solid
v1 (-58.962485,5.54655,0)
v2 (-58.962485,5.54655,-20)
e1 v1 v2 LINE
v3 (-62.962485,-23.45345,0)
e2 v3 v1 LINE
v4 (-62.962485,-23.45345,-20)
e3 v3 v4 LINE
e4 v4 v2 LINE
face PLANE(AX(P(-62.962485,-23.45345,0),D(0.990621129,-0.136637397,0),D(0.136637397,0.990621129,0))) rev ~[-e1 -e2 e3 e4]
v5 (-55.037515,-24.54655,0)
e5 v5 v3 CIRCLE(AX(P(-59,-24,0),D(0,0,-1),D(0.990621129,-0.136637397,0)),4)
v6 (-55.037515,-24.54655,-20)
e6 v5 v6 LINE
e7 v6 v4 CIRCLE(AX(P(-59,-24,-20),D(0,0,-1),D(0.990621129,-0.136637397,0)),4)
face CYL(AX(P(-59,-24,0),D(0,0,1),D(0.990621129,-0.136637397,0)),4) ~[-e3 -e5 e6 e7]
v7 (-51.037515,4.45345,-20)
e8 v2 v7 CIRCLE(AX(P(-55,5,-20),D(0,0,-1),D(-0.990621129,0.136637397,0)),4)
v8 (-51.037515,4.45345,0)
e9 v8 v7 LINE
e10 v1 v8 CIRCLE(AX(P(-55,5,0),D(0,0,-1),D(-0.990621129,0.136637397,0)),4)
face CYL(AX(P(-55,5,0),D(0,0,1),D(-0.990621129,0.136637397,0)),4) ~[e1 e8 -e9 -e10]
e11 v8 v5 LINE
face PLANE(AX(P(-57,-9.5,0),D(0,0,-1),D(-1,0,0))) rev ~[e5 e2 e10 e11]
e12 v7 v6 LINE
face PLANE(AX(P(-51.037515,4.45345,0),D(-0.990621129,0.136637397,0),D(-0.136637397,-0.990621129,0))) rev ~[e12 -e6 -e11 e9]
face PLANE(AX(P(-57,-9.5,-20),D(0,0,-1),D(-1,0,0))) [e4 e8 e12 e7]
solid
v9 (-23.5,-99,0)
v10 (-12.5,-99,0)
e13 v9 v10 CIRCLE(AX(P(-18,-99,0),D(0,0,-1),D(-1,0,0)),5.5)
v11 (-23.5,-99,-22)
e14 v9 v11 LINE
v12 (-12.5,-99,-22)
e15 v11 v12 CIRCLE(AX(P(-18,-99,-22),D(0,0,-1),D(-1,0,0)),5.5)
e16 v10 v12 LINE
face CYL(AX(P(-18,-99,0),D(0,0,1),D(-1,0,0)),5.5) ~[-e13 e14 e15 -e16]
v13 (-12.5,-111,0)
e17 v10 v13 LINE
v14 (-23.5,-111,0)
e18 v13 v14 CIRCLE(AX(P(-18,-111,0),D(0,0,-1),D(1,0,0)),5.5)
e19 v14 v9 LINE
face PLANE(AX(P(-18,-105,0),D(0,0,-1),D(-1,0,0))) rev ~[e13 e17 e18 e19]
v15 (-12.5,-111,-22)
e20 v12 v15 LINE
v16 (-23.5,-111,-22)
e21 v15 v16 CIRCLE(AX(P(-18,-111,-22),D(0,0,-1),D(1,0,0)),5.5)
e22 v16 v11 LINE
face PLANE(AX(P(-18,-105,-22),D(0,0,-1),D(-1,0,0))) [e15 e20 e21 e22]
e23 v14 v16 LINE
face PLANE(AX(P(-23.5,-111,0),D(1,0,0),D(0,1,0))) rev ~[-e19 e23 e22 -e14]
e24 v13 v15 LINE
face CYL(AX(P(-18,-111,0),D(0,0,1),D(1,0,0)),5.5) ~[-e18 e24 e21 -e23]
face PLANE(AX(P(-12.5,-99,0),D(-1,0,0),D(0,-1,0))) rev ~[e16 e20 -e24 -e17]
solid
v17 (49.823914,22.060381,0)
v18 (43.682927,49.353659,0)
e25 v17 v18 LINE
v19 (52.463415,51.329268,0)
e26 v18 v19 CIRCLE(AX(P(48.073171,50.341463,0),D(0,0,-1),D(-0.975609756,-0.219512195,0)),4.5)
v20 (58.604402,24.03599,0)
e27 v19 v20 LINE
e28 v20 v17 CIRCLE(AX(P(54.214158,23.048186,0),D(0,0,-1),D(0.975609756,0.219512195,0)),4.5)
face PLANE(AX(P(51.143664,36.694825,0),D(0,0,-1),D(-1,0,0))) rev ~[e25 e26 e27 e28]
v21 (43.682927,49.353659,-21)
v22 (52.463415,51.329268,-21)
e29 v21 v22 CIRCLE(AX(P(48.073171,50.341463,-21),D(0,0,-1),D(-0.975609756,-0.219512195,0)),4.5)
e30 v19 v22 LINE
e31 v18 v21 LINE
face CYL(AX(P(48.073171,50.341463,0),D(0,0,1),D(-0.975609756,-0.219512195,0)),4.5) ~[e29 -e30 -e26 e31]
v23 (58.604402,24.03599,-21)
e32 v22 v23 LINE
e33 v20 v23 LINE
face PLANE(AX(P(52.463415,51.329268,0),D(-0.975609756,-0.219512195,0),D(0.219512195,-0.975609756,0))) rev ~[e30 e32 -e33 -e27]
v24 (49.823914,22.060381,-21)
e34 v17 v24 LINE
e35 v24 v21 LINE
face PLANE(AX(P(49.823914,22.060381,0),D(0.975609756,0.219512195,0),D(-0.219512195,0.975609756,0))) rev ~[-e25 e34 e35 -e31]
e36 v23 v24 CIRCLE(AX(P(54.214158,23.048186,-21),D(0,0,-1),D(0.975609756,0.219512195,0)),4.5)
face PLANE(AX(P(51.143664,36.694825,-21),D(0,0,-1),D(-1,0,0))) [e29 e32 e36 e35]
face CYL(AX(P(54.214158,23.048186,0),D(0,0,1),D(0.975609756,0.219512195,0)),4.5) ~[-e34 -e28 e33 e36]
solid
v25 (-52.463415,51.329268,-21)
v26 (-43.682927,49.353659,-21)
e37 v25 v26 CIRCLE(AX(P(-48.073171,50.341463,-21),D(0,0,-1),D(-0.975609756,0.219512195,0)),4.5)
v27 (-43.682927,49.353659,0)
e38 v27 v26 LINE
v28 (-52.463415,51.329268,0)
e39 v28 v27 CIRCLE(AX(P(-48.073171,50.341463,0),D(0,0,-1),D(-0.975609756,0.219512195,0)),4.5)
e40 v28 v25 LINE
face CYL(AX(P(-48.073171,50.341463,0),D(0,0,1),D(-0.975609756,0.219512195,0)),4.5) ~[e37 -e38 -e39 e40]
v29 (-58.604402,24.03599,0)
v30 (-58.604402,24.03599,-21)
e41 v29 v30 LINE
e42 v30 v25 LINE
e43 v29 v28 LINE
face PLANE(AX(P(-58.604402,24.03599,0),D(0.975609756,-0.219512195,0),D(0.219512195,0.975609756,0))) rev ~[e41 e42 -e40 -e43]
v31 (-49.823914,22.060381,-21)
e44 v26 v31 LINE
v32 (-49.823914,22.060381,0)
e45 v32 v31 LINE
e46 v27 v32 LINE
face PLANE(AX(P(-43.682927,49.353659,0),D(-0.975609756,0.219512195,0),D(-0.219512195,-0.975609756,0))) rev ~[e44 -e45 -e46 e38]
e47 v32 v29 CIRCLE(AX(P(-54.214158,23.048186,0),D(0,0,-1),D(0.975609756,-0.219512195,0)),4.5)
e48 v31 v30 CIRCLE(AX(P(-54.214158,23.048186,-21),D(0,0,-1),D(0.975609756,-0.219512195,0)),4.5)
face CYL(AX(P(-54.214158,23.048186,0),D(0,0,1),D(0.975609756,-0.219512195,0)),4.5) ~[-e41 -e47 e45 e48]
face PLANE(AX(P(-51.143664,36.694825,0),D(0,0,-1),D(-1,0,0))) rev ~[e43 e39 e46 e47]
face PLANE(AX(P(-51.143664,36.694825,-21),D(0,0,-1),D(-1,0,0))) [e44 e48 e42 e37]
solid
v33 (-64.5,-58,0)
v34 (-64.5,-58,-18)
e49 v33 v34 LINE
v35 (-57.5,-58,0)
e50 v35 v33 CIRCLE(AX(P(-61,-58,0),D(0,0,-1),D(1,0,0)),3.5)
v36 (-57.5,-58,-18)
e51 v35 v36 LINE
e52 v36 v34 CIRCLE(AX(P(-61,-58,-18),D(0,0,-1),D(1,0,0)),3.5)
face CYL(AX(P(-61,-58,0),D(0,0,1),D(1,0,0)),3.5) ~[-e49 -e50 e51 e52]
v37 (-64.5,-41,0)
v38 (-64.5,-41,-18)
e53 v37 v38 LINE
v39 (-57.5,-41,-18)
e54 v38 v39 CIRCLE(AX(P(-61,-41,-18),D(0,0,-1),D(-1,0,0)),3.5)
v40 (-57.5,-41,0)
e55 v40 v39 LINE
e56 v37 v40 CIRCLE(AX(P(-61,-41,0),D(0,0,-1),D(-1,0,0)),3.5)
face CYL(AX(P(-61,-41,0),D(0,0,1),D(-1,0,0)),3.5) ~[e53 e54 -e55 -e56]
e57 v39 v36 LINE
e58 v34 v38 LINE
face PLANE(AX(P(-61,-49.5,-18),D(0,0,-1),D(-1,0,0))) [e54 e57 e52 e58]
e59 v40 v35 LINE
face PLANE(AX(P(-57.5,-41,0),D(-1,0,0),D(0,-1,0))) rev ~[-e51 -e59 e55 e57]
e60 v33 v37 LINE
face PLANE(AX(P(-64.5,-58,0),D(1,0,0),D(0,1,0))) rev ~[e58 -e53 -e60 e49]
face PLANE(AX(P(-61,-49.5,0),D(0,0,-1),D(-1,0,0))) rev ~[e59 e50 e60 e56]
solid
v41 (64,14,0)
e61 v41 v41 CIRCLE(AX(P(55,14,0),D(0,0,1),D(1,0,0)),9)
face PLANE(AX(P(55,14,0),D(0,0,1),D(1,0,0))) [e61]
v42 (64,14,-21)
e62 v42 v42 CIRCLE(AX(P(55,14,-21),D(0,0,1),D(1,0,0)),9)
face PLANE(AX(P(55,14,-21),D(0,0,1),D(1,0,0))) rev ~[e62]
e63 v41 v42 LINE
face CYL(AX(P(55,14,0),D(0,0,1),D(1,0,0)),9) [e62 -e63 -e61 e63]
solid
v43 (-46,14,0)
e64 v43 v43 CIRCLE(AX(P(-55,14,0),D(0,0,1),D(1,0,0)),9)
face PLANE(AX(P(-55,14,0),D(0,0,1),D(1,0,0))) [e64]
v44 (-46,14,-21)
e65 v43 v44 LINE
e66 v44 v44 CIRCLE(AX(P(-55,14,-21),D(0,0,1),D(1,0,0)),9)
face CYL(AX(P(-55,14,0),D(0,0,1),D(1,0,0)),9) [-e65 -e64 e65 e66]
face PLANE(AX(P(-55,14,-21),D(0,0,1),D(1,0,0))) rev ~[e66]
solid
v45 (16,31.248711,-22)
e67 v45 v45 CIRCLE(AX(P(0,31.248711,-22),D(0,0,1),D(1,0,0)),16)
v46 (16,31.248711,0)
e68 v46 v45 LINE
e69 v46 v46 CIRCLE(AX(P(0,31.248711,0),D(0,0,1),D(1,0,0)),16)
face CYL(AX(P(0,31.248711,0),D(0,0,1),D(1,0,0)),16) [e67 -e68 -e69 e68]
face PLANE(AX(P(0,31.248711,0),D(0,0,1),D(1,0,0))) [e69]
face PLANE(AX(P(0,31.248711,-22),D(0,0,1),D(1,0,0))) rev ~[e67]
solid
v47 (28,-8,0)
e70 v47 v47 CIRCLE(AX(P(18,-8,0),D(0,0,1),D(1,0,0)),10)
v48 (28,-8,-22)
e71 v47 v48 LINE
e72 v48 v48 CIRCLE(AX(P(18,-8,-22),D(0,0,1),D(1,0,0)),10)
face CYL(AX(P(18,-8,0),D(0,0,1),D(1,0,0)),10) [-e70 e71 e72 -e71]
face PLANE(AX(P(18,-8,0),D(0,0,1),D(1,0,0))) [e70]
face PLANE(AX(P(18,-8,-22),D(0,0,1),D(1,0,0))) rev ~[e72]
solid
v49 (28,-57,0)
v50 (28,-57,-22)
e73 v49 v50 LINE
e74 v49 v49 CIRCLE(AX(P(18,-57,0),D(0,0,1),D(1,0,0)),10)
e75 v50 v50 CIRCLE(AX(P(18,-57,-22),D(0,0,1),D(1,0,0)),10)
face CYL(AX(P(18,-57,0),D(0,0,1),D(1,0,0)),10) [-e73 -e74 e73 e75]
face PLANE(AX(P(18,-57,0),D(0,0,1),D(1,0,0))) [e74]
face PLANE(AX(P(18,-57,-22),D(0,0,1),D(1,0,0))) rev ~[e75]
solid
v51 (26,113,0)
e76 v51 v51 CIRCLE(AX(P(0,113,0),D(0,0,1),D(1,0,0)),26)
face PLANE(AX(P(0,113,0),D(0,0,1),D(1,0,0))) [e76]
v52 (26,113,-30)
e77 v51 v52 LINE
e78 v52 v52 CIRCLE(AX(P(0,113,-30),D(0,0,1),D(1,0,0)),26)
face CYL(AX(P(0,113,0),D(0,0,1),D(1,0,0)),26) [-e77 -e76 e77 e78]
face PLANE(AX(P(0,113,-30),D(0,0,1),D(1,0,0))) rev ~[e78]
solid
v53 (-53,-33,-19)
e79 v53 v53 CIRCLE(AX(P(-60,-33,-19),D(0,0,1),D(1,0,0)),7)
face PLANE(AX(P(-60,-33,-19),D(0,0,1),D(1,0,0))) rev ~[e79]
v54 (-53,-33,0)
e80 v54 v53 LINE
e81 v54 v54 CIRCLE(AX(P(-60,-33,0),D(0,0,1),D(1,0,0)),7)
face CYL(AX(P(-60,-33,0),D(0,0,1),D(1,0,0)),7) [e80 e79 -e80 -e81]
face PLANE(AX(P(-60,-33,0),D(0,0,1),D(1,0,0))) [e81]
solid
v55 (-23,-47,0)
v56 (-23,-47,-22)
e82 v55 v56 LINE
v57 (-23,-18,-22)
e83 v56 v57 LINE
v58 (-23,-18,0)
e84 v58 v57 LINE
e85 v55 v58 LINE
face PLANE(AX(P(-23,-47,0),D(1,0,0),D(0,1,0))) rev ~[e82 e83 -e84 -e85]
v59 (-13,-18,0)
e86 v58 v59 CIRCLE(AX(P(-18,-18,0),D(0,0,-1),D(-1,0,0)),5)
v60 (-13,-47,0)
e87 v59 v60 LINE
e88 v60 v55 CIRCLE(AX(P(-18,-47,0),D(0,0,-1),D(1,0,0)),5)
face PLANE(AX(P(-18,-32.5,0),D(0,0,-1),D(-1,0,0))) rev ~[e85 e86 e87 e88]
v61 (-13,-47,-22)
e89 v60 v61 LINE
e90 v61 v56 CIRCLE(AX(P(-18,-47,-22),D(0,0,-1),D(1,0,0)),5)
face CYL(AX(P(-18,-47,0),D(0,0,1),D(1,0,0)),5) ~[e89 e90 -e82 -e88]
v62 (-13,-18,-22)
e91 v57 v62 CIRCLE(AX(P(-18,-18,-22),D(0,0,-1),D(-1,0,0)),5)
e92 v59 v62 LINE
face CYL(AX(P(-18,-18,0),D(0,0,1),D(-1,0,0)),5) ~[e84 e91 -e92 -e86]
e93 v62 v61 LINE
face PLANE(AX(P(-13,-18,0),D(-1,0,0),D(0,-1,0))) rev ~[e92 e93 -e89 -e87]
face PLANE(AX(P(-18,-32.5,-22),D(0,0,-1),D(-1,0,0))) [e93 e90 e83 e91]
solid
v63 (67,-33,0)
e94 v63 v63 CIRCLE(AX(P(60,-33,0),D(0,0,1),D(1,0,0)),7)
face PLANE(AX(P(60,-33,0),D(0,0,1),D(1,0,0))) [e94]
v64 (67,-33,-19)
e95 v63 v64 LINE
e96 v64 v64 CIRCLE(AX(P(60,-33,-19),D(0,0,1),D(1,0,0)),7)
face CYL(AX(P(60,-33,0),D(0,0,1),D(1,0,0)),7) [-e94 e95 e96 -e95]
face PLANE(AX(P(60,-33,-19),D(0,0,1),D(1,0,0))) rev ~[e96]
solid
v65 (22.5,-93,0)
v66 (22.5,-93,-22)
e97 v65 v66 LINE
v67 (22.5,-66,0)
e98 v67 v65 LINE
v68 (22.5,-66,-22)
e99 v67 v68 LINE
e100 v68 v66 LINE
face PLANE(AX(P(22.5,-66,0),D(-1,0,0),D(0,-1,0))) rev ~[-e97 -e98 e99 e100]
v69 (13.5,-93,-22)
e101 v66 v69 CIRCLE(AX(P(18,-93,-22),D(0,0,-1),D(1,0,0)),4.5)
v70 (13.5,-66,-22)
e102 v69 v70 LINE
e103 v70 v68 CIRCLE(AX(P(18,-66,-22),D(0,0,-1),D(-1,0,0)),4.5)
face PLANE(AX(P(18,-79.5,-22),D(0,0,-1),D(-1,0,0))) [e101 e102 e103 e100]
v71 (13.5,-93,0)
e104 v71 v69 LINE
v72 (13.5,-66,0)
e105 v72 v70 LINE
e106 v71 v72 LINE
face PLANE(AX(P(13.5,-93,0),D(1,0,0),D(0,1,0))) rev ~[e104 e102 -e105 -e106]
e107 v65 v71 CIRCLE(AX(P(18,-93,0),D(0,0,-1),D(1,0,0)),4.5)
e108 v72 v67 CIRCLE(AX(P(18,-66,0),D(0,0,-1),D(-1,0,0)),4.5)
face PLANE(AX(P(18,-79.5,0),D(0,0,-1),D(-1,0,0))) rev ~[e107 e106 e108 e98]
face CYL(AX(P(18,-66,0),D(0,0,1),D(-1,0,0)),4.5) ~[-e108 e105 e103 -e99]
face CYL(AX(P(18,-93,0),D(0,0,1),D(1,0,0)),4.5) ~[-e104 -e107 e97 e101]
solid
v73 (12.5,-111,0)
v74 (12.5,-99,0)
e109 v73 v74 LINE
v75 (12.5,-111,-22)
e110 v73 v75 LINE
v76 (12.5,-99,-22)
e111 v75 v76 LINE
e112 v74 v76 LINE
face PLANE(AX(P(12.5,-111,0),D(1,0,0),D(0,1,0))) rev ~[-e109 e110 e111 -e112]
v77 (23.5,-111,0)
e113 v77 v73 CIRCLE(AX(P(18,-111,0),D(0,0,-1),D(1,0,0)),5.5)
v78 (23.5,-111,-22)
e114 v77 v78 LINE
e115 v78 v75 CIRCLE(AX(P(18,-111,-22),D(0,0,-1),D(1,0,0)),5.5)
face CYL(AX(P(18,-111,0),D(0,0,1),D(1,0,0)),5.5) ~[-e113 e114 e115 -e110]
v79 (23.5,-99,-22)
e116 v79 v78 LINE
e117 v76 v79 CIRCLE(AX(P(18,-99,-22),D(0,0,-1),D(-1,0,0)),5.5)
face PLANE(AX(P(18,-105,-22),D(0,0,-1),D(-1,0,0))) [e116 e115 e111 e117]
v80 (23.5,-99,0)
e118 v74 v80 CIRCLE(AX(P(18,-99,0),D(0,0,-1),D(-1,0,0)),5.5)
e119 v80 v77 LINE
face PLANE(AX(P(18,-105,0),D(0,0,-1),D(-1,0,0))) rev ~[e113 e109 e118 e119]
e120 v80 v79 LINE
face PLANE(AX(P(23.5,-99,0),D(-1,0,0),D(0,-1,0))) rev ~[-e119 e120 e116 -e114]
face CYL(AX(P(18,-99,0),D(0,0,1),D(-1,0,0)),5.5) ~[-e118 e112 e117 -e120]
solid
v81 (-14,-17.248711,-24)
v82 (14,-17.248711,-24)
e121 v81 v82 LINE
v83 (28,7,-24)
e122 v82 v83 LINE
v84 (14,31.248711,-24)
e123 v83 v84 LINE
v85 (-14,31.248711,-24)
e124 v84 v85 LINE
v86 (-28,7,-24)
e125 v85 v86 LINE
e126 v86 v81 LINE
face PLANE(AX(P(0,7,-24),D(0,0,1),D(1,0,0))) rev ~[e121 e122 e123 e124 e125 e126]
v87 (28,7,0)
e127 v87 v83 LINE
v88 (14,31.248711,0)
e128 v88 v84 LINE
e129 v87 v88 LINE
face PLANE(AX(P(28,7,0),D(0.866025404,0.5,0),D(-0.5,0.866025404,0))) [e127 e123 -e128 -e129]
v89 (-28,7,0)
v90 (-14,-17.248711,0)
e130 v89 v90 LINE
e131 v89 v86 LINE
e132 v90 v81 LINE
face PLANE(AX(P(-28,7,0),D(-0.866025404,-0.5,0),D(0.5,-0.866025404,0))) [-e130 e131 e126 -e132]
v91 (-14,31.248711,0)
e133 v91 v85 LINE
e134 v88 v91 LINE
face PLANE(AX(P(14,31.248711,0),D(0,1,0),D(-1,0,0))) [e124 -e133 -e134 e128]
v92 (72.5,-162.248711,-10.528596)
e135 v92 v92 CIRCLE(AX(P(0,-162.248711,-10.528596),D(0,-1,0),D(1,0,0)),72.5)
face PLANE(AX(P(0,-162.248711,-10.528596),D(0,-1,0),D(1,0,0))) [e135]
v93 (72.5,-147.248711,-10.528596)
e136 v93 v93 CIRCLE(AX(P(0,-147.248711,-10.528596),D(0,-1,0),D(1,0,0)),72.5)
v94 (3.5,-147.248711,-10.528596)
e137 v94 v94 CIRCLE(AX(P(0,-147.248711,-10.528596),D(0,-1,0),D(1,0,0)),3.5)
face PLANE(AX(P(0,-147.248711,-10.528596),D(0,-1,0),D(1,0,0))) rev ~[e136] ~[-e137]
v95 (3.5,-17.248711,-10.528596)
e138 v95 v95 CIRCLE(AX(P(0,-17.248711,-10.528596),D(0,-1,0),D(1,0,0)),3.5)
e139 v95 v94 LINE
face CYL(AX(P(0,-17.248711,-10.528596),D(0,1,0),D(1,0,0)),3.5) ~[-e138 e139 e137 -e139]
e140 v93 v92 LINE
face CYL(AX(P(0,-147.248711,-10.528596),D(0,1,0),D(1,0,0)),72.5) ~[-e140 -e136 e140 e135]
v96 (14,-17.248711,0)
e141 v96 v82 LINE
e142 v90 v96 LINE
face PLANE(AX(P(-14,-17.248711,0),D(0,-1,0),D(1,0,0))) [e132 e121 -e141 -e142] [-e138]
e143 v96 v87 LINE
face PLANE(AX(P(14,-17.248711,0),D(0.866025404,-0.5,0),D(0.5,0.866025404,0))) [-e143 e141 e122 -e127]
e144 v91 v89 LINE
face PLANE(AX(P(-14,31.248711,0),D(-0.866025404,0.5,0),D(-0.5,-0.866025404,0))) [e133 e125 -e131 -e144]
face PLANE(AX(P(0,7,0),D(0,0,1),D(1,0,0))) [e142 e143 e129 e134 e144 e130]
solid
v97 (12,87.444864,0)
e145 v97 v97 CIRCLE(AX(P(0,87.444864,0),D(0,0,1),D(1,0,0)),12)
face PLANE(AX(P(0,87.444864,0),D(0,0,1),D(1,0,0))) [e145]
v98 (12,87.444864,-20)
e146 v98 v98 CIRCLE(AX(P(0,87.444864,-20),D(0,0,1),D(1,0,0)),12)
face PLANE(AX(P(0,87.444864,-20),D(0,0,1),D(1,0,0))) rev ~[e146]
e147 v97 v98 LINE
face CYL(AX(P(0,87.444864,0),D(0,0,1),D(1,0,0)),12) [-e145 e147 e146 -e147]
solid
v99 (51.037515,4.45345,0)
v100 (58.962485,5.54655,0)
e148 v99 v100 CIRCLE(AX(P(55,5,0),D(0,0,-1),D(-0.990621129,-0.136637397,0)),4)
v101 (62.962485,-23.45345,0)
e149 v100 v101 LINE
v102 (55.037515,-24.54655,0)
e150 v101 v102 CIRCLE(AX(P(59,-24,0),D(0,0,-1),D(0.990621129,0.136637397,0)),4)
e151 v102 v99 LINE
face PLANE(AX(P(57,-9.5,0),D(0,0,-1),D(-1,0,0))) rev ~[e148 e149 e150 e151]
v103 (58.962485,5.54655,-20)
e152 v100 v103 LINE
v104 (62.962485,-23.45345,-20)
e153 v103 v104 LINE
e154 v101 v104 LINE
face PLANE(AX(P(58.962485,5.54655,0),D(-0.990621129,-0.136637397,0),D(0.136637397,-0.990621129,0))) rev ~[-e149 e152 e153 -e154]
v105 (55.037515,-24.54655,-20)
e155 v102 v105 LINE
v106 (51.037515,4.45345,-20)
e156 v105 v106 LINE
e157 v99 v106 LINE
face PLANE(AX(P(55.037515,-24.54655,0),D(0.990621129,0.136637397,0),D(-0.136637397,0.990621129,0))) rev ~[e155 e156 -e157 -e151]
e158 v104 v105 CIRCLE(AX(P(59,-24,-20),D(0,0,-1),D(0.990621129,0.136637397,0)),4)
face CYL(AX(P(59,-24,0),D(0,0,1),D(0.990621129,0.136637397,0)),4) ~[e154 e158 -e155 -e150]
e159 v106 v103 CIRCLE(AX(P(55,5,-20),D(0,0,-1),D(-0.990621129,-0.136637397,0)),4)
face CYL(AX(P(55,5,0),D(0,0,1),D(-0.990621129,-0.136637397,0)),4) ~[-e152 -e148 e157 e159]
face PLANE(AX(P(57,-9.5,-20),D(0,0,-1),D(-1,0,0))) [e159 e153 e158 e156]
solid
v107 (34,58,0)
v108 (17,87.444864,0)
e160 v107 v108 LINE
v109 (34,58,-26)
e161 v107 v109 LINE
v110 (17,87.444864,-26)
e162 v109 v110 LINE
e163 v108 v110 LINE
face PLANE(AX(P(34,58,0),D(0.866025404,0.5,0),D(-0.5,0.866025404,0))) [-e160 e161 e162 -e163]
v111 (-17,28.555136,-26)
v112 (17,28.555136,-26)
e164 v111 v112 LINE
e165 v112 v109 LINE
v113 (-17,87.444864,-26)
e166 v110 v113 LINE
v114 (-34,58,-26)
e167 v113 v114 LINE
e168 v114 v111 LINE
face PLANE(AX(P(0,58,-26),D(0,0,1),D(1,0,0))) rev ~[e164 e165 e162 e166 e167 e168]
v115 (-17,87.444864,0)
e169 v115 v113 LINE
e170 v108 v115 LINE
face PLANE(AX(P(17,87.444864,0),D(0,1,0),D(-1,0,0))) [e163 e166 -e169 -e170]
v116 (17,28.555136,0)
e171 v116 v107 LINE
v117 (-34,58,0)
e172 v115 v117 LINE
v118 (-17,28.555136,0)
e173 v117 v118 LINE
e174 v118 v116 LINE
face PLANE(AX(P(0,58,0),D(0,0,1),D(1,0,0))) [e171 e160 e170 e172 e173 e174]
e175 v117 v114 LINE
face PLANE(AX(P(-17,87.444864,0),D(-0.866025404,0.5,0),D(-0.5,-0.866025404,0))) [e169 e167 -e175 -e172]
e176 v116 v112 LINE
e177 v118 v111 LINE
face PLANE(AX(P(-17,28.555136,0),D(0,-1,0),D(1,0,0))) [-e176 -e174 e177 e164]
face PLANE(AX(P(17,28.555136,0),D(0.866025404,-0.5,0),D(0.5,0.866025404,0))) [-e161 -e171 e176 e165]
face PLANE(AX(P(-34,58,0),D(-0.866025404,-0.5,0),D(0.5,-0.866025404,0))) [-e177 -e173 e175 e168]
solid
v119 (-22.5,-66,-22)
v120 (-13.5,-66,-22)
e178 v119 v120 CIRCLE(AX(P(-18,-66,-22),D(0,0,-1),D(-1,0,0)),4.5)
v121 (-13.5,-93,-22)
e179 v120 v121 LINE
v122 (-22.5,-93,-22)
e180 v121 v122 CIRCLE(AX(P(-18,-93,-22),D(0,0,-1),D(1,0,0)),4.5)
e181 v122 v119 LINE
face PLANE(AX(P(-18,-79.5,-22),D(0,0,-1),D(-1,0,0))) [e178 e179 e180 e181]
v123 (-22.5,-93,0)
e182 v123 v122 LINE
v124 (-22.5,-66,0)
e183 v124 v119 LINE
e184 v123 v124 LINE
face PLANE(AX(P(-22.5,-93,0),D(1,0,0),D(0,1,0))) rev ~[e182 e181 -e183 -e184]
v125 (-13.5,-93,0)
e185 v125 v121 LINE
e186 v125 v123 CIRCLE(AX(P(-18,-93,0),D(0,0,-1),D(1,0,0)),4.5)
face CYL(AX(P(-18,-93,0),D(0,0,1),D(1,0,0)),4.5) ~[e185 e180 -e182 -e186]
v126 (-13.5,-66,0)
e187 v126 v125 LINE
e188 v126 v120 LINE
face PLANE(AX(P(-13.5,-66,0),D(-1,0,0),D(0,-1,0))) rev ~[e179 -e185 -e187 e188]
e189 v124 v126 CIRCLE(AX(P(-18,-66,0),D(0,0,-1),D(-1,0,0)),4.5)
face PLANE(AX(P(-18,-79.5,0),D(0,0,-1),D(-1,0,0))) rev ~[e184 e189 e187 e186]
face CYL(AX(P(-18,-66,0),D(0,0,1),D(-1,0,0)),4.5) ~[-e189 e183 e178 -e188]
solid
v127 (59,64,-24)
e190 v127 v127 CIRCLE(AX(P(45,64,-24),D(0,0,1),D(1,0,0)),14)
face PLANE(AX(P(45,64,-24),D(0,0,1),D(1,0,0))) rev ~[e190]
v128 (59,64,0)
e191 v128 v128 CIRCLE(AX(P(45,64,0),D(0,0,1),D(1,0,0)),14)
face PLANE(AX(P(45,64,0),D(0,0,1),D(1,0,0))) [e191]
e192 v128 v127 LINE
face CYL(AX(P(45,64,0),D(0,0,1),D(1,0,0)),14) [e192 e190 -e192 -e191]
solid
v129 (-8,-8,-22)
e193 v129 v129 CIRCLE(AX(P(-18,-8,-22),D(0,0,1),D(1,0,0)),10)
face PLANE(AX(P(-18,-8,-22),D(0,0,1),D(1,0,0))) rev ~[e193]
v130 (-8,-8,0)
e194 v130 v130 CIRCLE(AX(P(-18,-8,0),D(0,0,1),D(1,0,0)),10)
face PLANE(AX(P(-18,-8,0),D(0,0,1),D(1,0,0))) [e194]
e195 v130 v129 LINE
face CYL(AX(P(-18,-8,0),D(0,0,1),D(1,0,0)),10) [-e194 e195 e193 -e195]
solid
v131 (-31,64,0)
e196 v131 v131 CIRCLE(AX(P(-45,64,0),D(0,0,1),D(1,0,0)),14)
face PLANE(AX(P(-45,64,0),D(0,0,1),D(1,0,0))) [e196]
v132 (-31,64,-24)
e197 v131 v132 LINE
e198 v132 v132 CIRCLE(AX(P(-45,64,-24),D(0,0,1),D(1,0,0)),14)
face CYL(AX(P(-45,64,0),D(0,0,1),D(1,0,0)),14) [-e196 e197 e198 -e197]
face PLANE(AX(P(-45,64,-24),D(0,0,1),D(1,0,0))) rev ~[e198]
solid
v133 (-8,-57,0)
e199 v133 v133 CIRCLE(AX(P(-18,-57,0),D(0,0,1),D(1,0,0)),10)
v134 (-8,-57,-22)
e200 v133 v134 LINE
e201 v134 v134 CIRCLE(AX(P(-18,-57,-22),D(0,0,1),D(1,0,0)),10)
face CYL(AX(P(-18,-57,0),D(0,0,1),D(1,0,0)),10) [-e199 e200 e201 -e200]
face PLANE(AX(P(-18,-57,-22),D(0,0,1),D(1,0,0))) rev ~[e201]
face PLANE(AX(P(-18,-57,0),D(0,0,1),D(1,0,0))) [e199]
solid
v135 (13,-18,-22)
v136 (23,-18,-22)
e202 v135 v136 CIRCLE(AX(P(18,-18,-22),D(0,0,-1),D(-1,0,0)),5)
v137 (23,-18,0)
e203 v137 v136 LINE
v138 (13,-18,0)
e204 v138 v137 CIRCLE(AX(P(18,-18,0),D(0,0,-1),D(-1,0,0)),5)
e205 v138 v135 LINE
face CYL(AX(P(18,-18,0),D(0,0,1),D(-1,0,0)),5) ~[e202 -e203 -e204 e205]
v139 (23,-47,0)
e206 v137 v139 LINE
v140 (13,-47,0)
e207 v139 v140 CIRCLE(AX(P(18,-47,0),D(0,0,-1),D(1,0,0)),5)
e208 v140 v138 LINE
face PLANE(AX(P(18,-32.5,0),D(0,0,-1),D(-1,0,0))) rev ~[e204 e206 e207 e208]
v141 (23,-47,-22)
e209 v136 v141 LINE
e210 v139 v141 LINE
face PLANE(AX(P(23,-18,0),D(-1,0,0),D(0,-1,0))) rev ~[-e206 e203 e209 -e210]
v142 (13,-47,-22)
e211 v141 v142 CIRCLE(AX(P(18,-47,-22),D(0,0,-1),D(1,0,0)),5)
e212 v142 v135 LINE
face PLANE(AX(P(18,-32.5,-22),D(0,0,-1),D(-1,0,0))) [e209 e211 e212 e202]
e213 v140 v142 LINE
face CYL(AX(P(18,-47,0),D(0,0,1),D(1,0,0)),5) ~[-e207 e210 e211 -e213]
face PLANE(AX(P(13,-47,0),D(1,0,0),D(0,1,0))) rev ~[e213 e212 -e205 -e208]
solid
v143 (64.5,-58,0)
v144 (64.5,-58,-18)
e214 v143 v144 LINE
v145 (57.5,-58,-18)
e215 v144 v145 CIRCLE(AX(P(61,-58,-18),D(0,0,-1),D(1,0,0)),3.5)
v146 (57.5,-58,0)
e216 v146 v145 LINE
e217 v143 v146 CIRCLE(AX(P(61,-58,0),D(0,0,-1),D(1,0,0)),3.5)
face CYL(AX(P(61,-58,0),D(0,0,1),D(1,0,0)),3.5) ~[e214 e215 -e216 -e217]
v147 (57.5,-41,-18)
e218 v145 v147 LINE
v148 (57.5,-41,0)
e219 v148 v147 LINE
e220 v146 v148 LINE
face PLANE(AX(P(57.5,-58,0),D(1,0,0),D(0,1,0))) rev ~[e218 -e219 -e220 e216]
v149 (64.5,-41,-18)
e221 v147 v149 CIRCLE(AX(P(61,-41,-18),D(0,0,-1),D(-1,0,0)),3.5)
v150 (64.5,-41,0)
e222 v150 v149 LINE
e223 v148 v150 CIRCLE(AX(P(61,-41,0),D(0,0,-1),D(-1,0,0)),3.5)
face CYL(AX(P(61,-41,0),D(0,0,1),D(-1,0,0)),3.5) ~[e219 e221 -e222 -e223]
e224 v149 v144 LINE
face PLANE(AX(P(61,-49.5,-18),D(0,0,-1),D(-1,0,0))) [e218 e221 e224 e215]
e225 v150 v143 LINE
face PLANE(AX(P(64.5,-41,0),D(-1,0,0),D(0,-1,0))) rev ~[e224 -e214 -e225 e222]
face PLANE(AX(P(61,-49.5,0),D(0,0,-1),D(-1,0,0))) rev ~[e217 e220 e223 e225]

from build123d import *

# Parameters (mm, degrees)
EXTRUDE_2_DEPTH  = 22
EXTRUDE_3_DEPTH  = 22
EXTRUDE_4_DEPTH  = 22
SKETCH_5_R       = 10
EXTRUDE_5_DEPTH  = 22
EXTRUDE_6_DEPTH  = 22
SKETCH_7_R       = 10
EXTRUDE_7_DEPTH  = 22
EXTRUDE_8_DEPTH  = 22
SKETCH_9_R       = 10
EXTRUDE_9_DEPTH  = 22
EXTRUDE_10_DEPTH = 22
SKETCH_11_R      = 10
EXTRUDE_11_DEPTH = 22
EXTRUDE_12_DEPTH = 24
SKETCH_13_R      = 16
EXTRUDE_13_DEPTH = 22
EXTRUDE_14_DEPTH = 26
SKETCH_15_R      = 12
EXTRUDE_15_DEPTH = 20
SKETCH_16_R      = 26
EXTRUDE_16_DEPTH = 30
SKETCH_17_R      = 14
EXTRUDE_17_DEPTH = 24
EXTRUDE_18_DEPTH = 21
SKETCH_19_R      = 9
EXTRUDE_19_DEPTH = 21
EXTRUDE_20_DEPTH = 20
SKETCH_21_R      = 7
EXTRUDE_21_DEPTH = 19
EXTRUDE_22_DEPTH = 18
SKETCH_23_R      = 14
EXTRUDE_23_DEPTH = 24
EXTRUDE_24_DEPTH = 21
SKETCH_25_R      = 9
EXTRUDE_25_DEPTH = 21
EXTRUDE_26_DEPTH = 20
SKETCH_27_R      = 7
EXTRUDE_27_DEPTH = 19
EXTRUDE_28_DEPTH = 18
SKETCH_29_R      = 3.5
EXTRUDE_29_DEPTH = 130
SKETCH_30_R      = 72.5
EXTRUDE_30_DEPTH = 15


with BuildPart() as part:
    # 草图2 → 凸台-拉伸2 (new body)
    with BuildSketch(Plane.XY):
        with BuildLine():
            Line((-23.5, -111), (-23.5, -99))
            ThreePointArc((-23.5, -99), (-18, -93.5), (-12.5, -99))
            Line((-12.5, -99), (-12.5, -111))
            ThreePointArc((-12.5, -111), (-18, -116.5), (-23.5, -111))
        make_face()
    extrude(amount=-EXTRUDE_2_DEPTH)


with BuildPart() as body_2:
    # 草图3 → 凸台-拉伸3 (new body)
    with BuildSketch(Plane.XY):
        with BuildLine():
            Line((12.5, -111), (12.5, -99))
            ThreePointArc((12.5, -99), (18, -93.5), (23.5, -99))
            Line((23.5, -99), (23.5, -111))
            ThreePointArc((23.5, -111), (18, -116.5), (12.5, -111))
        make_face()
    extrude(amount=-EXTRUDE_3_DEPTH)


with BuildPart() as body_3:
    # 草图4 → 凸台-拉伸4 (new body)
    with BuildSketch(Plane.XY):
        with BuildLine():
            Line((-22.5, -93), (-22.5, -66))
            ThreePointArc((-22.5, -66), (-18, -61.5), (-13.5, -66))
            Line((-13.5, -66), (-13.5, -93))
            ThreePointArc((-13.5, -93), (-18, -97.5), (-22.5, -93))
        make_face()
    extrude(amount=-EXTRUDE_4_DEPTH)


with BuildPart() as body_4:
    # 草图5 → 凸台-拉伸5 (new body)
    with BuildSketch(Plane.XY):
        with Locations((-18, -57)):
            Circle(SKETCH_5_R)
    extrude(amount=-EXTRUDE_5_DEPTH)


with BuildPart() as body_5:
    # 草图6 → 凸台-拉伸6 (new body)
    with BuildSketch(Plane.XY):
        with BuildLine():
            Line((-23, -47), (-23, -18))
            ThreePointArc((-23, -18), (-18, -13), (-13, -18))
            Line((-13, -18), (-13, -47))
            ThreePointArc((-13, -47), (-18, -52), (-23, -47))
        make_face()
    extrude(amount=-EXTRUDE_6_DEPTH)


with BuildPart() as body_6:
    # 草图7 → 凸台-拉伸7 (new body)
    with BuildSketch(Plane.XY):
        with Locations((-18, -8)):
            Circle(SKETCH_7_R)
    extrude(amount=-EXTRUDE_7_DEPTH)


with BuildPart() as body_7:
    # 草图8 → 凸台-拉伸8 (new body)
    with BuildSketch(Plane.XY):
        with BuildLine():
            Line((13.5, -93), (13.5, -66))
            ThreePointArc((13.5, -66), (18, -61.5), (22.5, -66))
            Line((22.5, -66), (22.5, -93))
            ThreePointArc((22.5, -93), (18, -97.5), (13.5, -93))
        make_face()
    extrude(amount=-EXTRUDE_8_DEPTH)


with BuildPart() as body_8:
    # 草图9 → 凸台-拉伸9 (new body)
    with BuildSketch(Plane.XY):
        with Locations((18, -57)):
            Circle(SKETCH_9_R)
    extrude(amount=-EXTRUDE_9_DEPTH)


with BuildPart() as body_9:
    # 草图10 → 凸台-拉伸10 (new body)
    with BuildSketch(Plane.XY):
        with BuildLine():
            Line((13, -47), (13, -18))
            ThreePointArc((13, -18), (18, -13), (23, -18))
            Line((23, -18), (23, -47))
            ThreePointArc((23, -47), (18, -52), (13, -47))
        make_face()
    extrude(amount=-EXTRUDE_10_DEPTH)


with BuildPart() as body_10:
    # 草图11 → 凸台-拉伸11 (new body)
    with BuildSketch(Plane.XY):
        with Locations((18, -8)):
            Circle(SKETCH_11_R)
    extrude(amount=-EXTRUDE_11_DEPTH)


with BuildPart() as body_11:
    # 草图12 → 凸台-拉伸12 (new body)
    with BuildSketch(Plane.XY):
        Polygon((28, 7), (14, 31.248711306), (-14, 31.248711306), (-28, 7), (-14, -17.248711306), (14, -17.248711306), align=None)
    extrude(amount=-EXTRUDE_12_DEPTH)

    # 草图29 → 凸台-拉伸29 (add)
    with BuildSketch(Plane.XZ.offset(17.248711306)):
        with Locations((0, -10.528596481)):
            Circle(SKETCH_29_R)
    extrude(amount=EXTRUDE_29_DEPTH)

    # 草图30 → 凸台-拉伸30 (add)
    with BuildSketch(Plane.XZ.offset(147.248711306)):
        with Locations((0, -10.528596481)):
            Circle(SKETCH_30_R)
    extrude(amount=EXTRUDE_30_DEPTH)


with BuildPart() as body_12:
    # 草图13 → 凸台-拉伸13 (new body)
    with BuildSketch(Plane.XY):
        with Locations((0, 31.248711306)):
            Circle(SKETCH_13_R)
    extrude(amount=-EXTRUDE_13_DEPTH)


with BuildPart() as body_13:
    # 草图14 → 凸台-拉伸14 (new body)
    with BuildSketch(Plane.XY):
        Polygon((34, 58), (17, 87.444863729), (-17, 87.444863729), (-34, 58), (-17, 28.555136271), (17, 28.555136271), align=None)
    extrude(amount=-EXTRUDE_14_DEPTH)


with BuildPart() as body_14:
    # 草图15 → 凸台-拉伸15 (new body)
    with BuildSketch(Plane.XY):
        with Locations((0, 87.444863729)):
            Circle(SKETCH_15_R)
    extrude(amount=-EXTRUDE_15_DEPTH)


with BuildPart() as body_15:
    # 草图16 → 凸台-拉伸16 (new body)
    with BuildSketch(Plane.XY):
        with Locations((0, 113)):
            Circle(SKETCH_16_R)
    extrude(amount=-EXTRUDE_16_DEPTH)


with BuildPart() as body_16:
    # 草图17 → 凸台-拉伸17 (new body)
    with BuildSketch(Plane.XY):
        with Locations((-45, 64)):
            Circle(SKETCH_17_R)
    extrude(amount=-EXTRUDE_17_DEPTH)


with BuildPart() as body_17:
    # 草图18 → 凸台-拉伸18 (new body)
    with BuildSketch(Plane.XY):
        with BuildLine():
            Line((-43.682926829, 49.353658537), (-49.823914337, 22.060380726))
            ThreePointArc((-49.823914337, 22.060380726), (-55.201963117, 18.657941701), (-58.604402142, 24.035990482))
            Line((-58.604402142, 24.035990482), (-52.463414634, 51.329268293))
            ThreePointArc((-52.463414634, 51.329268293), (-47.085365854, 54.731707317), (-43.682926829, 49.353658537))
        make_face()
    extrude(amount=-EXTRUDE_18_DEPTH)


with BuildPart() as body_18:
    # 草图19 → 凸台-拉伸19 (new body)
    with BuildSketch(Plane.XY):
        with Locations((-55, 14)):
            Circle(SKETCH_19_R)
    extrude(amount=-EXTRUDE_19_DEPTH)


with BuildPart() as body_19:
    # 草图20 → 凸台-拉伸20 (new body)
    with BuildSketch(Plane.XY):
        with BuildLine():
            Line((-51.037515483, 4.453450411), (-55.037515483, -24.546549589))
            ThreePointArc((-55.037515483, -24.546549589), (-59.546549589, -27.962484517), (-62.962484517, -23.453450411))
            Line((-62.962484517, -23.453450411), (-58.962484517, 5.546549589))
            ThreePointArc((-58.962484517, 5.546549589), (-54.453450411, 8.962484517), (-51.037515483, 4.453450411))
        make_face()
    extrude(amount=-EXTRUDE_20_DEPTH)


with BuildPart() as body_20:
    # 草图21 → 凸台-拉伸21 (new body)
    with BuildSketch(Plane.XY):
        with Locations((-60, -33)):
            Circle(SKETCH_21_R)
    extrude(amount=-EXTRUDE_21_DEPTH)


with BuildPart() as body_21:
    # 草图22 → 凸台-拉伸22 (new body)
    with BuildSketch(Plane.XY):
        with BuildLine():
            Line((-57.5, -41), (-57.5, -58))
            ThreePointArc((-57.5, -58), (-61, -61.5), (-64.5, -58))
            Line((-64.5, -58), (-64.5, -41))
            ThreePointArc((-64.5, -41), (-61, -37.5), (-57.5, -41))
        make_face()
    extrude(amount=-EXTRUDE_22_DEPTH)


with BuildPart() as body_22:
    # 草图23 → 凸台-拉伸23 (new body)
    with BuildSketch(Plane.XY):
        with Locations((45, 64)):
            Circle(SKETCH_23_R)
    extrude(amount=-EXTRUDE_23_DEPTH)


with BuildPart() as body_23:
    # 草图24 → 凸台-拉伸24 (new body)
    with BuildSketch(Plane.XY):
        with BuildLine():
            Line((52.463414634, 51.329268293), (58.604402142, 24.035990482))
            ThreePointArc((58.604402142, 24.035990482), (55.201963117, 18.657941701), (49.823914337, 22.060380726))
            Line((49.823914337, 22.060380726), (43.682926829, 49.353658537))
            ThreePointArc((43.682926829, 49.353658537), (47.085365854, 54.731707317), (52.463414634, 51.329268293))
        make_face()
    extrude(amount=-EXTRUDE_24_DEPTH)


with BuildPart() as body_24:
    # 草图25 → 凸台-拉伸25 (new body)
    with BuildSketch(Plane.XY):
        with Locations((55, 14)):
            Circle(SKETCH_25_R)
    extrude(amount=-EXTRUDE_25_DEPTH)


with BuildPart() as body_25:
    # 草图26 → 凸台-拉伸26 (new body)
    with BuildSketch(Plane.XY):
        with BuildLine():
            Line((58.962484517, 5.546549589), (62.962484517, -23.453450411))
            ThreePointArc((62.962484517, -23.453450411), (59.546549589, -27.962484517), (55.037515483, -24.546549589))
            Line((55.037515483, -24.546549589), (51.037515483, 4.453450411))
            ThreePointArc((51.037515483, 4.453450411), (54.453450411, 8.962484517), (58.962484517, 5.546549589))
        make_face()
    extrude(amount=-EXTRUDE_26_DEPTH)


with BuildPart() as body_26:
    # 草图27 → 凸台-拉伸27 (new body)
    with BuildSketch(Plane.XY):
        with Locations((60, -33)):
            Circle(SKETCH_27_R)
    extrude(amount=-EXTRUDE_27_DEPTH)


with BuildPart() as body_27:
    # 草图28 → 凸台-拉伸28 (new body)
    with BuildSketch(Plane.XY):
        with BuildLine():
            Line((64.5, -41), (64.5, -58))
            ThreePointArc((64.5, -58), (61, -61.5), (57.5, -58))
            Line((57.5, -58), (57.5, -41))
            ThreePointArc((57.5, -41), (61, -37.5), (64.5, -41))
        make_face()
    extrude(amount=-EXTRUDE_28_DEPTH)


solid = Compound([part.part, body_2.part, body_3.part, body_4.part, body_5.part, body_6.part, body_7.part, body_8.part, body_9.part, body_10.part, body_11.part, body_12.part, body_13.part, body_14.part, body_15.part, body_16.part, body_17.part, body_18.part, body_19.part, body_20.part, body_21.part, body_22.part, body_23.part, body_24.part, body_25.part, body_26.part, body_27.part])
